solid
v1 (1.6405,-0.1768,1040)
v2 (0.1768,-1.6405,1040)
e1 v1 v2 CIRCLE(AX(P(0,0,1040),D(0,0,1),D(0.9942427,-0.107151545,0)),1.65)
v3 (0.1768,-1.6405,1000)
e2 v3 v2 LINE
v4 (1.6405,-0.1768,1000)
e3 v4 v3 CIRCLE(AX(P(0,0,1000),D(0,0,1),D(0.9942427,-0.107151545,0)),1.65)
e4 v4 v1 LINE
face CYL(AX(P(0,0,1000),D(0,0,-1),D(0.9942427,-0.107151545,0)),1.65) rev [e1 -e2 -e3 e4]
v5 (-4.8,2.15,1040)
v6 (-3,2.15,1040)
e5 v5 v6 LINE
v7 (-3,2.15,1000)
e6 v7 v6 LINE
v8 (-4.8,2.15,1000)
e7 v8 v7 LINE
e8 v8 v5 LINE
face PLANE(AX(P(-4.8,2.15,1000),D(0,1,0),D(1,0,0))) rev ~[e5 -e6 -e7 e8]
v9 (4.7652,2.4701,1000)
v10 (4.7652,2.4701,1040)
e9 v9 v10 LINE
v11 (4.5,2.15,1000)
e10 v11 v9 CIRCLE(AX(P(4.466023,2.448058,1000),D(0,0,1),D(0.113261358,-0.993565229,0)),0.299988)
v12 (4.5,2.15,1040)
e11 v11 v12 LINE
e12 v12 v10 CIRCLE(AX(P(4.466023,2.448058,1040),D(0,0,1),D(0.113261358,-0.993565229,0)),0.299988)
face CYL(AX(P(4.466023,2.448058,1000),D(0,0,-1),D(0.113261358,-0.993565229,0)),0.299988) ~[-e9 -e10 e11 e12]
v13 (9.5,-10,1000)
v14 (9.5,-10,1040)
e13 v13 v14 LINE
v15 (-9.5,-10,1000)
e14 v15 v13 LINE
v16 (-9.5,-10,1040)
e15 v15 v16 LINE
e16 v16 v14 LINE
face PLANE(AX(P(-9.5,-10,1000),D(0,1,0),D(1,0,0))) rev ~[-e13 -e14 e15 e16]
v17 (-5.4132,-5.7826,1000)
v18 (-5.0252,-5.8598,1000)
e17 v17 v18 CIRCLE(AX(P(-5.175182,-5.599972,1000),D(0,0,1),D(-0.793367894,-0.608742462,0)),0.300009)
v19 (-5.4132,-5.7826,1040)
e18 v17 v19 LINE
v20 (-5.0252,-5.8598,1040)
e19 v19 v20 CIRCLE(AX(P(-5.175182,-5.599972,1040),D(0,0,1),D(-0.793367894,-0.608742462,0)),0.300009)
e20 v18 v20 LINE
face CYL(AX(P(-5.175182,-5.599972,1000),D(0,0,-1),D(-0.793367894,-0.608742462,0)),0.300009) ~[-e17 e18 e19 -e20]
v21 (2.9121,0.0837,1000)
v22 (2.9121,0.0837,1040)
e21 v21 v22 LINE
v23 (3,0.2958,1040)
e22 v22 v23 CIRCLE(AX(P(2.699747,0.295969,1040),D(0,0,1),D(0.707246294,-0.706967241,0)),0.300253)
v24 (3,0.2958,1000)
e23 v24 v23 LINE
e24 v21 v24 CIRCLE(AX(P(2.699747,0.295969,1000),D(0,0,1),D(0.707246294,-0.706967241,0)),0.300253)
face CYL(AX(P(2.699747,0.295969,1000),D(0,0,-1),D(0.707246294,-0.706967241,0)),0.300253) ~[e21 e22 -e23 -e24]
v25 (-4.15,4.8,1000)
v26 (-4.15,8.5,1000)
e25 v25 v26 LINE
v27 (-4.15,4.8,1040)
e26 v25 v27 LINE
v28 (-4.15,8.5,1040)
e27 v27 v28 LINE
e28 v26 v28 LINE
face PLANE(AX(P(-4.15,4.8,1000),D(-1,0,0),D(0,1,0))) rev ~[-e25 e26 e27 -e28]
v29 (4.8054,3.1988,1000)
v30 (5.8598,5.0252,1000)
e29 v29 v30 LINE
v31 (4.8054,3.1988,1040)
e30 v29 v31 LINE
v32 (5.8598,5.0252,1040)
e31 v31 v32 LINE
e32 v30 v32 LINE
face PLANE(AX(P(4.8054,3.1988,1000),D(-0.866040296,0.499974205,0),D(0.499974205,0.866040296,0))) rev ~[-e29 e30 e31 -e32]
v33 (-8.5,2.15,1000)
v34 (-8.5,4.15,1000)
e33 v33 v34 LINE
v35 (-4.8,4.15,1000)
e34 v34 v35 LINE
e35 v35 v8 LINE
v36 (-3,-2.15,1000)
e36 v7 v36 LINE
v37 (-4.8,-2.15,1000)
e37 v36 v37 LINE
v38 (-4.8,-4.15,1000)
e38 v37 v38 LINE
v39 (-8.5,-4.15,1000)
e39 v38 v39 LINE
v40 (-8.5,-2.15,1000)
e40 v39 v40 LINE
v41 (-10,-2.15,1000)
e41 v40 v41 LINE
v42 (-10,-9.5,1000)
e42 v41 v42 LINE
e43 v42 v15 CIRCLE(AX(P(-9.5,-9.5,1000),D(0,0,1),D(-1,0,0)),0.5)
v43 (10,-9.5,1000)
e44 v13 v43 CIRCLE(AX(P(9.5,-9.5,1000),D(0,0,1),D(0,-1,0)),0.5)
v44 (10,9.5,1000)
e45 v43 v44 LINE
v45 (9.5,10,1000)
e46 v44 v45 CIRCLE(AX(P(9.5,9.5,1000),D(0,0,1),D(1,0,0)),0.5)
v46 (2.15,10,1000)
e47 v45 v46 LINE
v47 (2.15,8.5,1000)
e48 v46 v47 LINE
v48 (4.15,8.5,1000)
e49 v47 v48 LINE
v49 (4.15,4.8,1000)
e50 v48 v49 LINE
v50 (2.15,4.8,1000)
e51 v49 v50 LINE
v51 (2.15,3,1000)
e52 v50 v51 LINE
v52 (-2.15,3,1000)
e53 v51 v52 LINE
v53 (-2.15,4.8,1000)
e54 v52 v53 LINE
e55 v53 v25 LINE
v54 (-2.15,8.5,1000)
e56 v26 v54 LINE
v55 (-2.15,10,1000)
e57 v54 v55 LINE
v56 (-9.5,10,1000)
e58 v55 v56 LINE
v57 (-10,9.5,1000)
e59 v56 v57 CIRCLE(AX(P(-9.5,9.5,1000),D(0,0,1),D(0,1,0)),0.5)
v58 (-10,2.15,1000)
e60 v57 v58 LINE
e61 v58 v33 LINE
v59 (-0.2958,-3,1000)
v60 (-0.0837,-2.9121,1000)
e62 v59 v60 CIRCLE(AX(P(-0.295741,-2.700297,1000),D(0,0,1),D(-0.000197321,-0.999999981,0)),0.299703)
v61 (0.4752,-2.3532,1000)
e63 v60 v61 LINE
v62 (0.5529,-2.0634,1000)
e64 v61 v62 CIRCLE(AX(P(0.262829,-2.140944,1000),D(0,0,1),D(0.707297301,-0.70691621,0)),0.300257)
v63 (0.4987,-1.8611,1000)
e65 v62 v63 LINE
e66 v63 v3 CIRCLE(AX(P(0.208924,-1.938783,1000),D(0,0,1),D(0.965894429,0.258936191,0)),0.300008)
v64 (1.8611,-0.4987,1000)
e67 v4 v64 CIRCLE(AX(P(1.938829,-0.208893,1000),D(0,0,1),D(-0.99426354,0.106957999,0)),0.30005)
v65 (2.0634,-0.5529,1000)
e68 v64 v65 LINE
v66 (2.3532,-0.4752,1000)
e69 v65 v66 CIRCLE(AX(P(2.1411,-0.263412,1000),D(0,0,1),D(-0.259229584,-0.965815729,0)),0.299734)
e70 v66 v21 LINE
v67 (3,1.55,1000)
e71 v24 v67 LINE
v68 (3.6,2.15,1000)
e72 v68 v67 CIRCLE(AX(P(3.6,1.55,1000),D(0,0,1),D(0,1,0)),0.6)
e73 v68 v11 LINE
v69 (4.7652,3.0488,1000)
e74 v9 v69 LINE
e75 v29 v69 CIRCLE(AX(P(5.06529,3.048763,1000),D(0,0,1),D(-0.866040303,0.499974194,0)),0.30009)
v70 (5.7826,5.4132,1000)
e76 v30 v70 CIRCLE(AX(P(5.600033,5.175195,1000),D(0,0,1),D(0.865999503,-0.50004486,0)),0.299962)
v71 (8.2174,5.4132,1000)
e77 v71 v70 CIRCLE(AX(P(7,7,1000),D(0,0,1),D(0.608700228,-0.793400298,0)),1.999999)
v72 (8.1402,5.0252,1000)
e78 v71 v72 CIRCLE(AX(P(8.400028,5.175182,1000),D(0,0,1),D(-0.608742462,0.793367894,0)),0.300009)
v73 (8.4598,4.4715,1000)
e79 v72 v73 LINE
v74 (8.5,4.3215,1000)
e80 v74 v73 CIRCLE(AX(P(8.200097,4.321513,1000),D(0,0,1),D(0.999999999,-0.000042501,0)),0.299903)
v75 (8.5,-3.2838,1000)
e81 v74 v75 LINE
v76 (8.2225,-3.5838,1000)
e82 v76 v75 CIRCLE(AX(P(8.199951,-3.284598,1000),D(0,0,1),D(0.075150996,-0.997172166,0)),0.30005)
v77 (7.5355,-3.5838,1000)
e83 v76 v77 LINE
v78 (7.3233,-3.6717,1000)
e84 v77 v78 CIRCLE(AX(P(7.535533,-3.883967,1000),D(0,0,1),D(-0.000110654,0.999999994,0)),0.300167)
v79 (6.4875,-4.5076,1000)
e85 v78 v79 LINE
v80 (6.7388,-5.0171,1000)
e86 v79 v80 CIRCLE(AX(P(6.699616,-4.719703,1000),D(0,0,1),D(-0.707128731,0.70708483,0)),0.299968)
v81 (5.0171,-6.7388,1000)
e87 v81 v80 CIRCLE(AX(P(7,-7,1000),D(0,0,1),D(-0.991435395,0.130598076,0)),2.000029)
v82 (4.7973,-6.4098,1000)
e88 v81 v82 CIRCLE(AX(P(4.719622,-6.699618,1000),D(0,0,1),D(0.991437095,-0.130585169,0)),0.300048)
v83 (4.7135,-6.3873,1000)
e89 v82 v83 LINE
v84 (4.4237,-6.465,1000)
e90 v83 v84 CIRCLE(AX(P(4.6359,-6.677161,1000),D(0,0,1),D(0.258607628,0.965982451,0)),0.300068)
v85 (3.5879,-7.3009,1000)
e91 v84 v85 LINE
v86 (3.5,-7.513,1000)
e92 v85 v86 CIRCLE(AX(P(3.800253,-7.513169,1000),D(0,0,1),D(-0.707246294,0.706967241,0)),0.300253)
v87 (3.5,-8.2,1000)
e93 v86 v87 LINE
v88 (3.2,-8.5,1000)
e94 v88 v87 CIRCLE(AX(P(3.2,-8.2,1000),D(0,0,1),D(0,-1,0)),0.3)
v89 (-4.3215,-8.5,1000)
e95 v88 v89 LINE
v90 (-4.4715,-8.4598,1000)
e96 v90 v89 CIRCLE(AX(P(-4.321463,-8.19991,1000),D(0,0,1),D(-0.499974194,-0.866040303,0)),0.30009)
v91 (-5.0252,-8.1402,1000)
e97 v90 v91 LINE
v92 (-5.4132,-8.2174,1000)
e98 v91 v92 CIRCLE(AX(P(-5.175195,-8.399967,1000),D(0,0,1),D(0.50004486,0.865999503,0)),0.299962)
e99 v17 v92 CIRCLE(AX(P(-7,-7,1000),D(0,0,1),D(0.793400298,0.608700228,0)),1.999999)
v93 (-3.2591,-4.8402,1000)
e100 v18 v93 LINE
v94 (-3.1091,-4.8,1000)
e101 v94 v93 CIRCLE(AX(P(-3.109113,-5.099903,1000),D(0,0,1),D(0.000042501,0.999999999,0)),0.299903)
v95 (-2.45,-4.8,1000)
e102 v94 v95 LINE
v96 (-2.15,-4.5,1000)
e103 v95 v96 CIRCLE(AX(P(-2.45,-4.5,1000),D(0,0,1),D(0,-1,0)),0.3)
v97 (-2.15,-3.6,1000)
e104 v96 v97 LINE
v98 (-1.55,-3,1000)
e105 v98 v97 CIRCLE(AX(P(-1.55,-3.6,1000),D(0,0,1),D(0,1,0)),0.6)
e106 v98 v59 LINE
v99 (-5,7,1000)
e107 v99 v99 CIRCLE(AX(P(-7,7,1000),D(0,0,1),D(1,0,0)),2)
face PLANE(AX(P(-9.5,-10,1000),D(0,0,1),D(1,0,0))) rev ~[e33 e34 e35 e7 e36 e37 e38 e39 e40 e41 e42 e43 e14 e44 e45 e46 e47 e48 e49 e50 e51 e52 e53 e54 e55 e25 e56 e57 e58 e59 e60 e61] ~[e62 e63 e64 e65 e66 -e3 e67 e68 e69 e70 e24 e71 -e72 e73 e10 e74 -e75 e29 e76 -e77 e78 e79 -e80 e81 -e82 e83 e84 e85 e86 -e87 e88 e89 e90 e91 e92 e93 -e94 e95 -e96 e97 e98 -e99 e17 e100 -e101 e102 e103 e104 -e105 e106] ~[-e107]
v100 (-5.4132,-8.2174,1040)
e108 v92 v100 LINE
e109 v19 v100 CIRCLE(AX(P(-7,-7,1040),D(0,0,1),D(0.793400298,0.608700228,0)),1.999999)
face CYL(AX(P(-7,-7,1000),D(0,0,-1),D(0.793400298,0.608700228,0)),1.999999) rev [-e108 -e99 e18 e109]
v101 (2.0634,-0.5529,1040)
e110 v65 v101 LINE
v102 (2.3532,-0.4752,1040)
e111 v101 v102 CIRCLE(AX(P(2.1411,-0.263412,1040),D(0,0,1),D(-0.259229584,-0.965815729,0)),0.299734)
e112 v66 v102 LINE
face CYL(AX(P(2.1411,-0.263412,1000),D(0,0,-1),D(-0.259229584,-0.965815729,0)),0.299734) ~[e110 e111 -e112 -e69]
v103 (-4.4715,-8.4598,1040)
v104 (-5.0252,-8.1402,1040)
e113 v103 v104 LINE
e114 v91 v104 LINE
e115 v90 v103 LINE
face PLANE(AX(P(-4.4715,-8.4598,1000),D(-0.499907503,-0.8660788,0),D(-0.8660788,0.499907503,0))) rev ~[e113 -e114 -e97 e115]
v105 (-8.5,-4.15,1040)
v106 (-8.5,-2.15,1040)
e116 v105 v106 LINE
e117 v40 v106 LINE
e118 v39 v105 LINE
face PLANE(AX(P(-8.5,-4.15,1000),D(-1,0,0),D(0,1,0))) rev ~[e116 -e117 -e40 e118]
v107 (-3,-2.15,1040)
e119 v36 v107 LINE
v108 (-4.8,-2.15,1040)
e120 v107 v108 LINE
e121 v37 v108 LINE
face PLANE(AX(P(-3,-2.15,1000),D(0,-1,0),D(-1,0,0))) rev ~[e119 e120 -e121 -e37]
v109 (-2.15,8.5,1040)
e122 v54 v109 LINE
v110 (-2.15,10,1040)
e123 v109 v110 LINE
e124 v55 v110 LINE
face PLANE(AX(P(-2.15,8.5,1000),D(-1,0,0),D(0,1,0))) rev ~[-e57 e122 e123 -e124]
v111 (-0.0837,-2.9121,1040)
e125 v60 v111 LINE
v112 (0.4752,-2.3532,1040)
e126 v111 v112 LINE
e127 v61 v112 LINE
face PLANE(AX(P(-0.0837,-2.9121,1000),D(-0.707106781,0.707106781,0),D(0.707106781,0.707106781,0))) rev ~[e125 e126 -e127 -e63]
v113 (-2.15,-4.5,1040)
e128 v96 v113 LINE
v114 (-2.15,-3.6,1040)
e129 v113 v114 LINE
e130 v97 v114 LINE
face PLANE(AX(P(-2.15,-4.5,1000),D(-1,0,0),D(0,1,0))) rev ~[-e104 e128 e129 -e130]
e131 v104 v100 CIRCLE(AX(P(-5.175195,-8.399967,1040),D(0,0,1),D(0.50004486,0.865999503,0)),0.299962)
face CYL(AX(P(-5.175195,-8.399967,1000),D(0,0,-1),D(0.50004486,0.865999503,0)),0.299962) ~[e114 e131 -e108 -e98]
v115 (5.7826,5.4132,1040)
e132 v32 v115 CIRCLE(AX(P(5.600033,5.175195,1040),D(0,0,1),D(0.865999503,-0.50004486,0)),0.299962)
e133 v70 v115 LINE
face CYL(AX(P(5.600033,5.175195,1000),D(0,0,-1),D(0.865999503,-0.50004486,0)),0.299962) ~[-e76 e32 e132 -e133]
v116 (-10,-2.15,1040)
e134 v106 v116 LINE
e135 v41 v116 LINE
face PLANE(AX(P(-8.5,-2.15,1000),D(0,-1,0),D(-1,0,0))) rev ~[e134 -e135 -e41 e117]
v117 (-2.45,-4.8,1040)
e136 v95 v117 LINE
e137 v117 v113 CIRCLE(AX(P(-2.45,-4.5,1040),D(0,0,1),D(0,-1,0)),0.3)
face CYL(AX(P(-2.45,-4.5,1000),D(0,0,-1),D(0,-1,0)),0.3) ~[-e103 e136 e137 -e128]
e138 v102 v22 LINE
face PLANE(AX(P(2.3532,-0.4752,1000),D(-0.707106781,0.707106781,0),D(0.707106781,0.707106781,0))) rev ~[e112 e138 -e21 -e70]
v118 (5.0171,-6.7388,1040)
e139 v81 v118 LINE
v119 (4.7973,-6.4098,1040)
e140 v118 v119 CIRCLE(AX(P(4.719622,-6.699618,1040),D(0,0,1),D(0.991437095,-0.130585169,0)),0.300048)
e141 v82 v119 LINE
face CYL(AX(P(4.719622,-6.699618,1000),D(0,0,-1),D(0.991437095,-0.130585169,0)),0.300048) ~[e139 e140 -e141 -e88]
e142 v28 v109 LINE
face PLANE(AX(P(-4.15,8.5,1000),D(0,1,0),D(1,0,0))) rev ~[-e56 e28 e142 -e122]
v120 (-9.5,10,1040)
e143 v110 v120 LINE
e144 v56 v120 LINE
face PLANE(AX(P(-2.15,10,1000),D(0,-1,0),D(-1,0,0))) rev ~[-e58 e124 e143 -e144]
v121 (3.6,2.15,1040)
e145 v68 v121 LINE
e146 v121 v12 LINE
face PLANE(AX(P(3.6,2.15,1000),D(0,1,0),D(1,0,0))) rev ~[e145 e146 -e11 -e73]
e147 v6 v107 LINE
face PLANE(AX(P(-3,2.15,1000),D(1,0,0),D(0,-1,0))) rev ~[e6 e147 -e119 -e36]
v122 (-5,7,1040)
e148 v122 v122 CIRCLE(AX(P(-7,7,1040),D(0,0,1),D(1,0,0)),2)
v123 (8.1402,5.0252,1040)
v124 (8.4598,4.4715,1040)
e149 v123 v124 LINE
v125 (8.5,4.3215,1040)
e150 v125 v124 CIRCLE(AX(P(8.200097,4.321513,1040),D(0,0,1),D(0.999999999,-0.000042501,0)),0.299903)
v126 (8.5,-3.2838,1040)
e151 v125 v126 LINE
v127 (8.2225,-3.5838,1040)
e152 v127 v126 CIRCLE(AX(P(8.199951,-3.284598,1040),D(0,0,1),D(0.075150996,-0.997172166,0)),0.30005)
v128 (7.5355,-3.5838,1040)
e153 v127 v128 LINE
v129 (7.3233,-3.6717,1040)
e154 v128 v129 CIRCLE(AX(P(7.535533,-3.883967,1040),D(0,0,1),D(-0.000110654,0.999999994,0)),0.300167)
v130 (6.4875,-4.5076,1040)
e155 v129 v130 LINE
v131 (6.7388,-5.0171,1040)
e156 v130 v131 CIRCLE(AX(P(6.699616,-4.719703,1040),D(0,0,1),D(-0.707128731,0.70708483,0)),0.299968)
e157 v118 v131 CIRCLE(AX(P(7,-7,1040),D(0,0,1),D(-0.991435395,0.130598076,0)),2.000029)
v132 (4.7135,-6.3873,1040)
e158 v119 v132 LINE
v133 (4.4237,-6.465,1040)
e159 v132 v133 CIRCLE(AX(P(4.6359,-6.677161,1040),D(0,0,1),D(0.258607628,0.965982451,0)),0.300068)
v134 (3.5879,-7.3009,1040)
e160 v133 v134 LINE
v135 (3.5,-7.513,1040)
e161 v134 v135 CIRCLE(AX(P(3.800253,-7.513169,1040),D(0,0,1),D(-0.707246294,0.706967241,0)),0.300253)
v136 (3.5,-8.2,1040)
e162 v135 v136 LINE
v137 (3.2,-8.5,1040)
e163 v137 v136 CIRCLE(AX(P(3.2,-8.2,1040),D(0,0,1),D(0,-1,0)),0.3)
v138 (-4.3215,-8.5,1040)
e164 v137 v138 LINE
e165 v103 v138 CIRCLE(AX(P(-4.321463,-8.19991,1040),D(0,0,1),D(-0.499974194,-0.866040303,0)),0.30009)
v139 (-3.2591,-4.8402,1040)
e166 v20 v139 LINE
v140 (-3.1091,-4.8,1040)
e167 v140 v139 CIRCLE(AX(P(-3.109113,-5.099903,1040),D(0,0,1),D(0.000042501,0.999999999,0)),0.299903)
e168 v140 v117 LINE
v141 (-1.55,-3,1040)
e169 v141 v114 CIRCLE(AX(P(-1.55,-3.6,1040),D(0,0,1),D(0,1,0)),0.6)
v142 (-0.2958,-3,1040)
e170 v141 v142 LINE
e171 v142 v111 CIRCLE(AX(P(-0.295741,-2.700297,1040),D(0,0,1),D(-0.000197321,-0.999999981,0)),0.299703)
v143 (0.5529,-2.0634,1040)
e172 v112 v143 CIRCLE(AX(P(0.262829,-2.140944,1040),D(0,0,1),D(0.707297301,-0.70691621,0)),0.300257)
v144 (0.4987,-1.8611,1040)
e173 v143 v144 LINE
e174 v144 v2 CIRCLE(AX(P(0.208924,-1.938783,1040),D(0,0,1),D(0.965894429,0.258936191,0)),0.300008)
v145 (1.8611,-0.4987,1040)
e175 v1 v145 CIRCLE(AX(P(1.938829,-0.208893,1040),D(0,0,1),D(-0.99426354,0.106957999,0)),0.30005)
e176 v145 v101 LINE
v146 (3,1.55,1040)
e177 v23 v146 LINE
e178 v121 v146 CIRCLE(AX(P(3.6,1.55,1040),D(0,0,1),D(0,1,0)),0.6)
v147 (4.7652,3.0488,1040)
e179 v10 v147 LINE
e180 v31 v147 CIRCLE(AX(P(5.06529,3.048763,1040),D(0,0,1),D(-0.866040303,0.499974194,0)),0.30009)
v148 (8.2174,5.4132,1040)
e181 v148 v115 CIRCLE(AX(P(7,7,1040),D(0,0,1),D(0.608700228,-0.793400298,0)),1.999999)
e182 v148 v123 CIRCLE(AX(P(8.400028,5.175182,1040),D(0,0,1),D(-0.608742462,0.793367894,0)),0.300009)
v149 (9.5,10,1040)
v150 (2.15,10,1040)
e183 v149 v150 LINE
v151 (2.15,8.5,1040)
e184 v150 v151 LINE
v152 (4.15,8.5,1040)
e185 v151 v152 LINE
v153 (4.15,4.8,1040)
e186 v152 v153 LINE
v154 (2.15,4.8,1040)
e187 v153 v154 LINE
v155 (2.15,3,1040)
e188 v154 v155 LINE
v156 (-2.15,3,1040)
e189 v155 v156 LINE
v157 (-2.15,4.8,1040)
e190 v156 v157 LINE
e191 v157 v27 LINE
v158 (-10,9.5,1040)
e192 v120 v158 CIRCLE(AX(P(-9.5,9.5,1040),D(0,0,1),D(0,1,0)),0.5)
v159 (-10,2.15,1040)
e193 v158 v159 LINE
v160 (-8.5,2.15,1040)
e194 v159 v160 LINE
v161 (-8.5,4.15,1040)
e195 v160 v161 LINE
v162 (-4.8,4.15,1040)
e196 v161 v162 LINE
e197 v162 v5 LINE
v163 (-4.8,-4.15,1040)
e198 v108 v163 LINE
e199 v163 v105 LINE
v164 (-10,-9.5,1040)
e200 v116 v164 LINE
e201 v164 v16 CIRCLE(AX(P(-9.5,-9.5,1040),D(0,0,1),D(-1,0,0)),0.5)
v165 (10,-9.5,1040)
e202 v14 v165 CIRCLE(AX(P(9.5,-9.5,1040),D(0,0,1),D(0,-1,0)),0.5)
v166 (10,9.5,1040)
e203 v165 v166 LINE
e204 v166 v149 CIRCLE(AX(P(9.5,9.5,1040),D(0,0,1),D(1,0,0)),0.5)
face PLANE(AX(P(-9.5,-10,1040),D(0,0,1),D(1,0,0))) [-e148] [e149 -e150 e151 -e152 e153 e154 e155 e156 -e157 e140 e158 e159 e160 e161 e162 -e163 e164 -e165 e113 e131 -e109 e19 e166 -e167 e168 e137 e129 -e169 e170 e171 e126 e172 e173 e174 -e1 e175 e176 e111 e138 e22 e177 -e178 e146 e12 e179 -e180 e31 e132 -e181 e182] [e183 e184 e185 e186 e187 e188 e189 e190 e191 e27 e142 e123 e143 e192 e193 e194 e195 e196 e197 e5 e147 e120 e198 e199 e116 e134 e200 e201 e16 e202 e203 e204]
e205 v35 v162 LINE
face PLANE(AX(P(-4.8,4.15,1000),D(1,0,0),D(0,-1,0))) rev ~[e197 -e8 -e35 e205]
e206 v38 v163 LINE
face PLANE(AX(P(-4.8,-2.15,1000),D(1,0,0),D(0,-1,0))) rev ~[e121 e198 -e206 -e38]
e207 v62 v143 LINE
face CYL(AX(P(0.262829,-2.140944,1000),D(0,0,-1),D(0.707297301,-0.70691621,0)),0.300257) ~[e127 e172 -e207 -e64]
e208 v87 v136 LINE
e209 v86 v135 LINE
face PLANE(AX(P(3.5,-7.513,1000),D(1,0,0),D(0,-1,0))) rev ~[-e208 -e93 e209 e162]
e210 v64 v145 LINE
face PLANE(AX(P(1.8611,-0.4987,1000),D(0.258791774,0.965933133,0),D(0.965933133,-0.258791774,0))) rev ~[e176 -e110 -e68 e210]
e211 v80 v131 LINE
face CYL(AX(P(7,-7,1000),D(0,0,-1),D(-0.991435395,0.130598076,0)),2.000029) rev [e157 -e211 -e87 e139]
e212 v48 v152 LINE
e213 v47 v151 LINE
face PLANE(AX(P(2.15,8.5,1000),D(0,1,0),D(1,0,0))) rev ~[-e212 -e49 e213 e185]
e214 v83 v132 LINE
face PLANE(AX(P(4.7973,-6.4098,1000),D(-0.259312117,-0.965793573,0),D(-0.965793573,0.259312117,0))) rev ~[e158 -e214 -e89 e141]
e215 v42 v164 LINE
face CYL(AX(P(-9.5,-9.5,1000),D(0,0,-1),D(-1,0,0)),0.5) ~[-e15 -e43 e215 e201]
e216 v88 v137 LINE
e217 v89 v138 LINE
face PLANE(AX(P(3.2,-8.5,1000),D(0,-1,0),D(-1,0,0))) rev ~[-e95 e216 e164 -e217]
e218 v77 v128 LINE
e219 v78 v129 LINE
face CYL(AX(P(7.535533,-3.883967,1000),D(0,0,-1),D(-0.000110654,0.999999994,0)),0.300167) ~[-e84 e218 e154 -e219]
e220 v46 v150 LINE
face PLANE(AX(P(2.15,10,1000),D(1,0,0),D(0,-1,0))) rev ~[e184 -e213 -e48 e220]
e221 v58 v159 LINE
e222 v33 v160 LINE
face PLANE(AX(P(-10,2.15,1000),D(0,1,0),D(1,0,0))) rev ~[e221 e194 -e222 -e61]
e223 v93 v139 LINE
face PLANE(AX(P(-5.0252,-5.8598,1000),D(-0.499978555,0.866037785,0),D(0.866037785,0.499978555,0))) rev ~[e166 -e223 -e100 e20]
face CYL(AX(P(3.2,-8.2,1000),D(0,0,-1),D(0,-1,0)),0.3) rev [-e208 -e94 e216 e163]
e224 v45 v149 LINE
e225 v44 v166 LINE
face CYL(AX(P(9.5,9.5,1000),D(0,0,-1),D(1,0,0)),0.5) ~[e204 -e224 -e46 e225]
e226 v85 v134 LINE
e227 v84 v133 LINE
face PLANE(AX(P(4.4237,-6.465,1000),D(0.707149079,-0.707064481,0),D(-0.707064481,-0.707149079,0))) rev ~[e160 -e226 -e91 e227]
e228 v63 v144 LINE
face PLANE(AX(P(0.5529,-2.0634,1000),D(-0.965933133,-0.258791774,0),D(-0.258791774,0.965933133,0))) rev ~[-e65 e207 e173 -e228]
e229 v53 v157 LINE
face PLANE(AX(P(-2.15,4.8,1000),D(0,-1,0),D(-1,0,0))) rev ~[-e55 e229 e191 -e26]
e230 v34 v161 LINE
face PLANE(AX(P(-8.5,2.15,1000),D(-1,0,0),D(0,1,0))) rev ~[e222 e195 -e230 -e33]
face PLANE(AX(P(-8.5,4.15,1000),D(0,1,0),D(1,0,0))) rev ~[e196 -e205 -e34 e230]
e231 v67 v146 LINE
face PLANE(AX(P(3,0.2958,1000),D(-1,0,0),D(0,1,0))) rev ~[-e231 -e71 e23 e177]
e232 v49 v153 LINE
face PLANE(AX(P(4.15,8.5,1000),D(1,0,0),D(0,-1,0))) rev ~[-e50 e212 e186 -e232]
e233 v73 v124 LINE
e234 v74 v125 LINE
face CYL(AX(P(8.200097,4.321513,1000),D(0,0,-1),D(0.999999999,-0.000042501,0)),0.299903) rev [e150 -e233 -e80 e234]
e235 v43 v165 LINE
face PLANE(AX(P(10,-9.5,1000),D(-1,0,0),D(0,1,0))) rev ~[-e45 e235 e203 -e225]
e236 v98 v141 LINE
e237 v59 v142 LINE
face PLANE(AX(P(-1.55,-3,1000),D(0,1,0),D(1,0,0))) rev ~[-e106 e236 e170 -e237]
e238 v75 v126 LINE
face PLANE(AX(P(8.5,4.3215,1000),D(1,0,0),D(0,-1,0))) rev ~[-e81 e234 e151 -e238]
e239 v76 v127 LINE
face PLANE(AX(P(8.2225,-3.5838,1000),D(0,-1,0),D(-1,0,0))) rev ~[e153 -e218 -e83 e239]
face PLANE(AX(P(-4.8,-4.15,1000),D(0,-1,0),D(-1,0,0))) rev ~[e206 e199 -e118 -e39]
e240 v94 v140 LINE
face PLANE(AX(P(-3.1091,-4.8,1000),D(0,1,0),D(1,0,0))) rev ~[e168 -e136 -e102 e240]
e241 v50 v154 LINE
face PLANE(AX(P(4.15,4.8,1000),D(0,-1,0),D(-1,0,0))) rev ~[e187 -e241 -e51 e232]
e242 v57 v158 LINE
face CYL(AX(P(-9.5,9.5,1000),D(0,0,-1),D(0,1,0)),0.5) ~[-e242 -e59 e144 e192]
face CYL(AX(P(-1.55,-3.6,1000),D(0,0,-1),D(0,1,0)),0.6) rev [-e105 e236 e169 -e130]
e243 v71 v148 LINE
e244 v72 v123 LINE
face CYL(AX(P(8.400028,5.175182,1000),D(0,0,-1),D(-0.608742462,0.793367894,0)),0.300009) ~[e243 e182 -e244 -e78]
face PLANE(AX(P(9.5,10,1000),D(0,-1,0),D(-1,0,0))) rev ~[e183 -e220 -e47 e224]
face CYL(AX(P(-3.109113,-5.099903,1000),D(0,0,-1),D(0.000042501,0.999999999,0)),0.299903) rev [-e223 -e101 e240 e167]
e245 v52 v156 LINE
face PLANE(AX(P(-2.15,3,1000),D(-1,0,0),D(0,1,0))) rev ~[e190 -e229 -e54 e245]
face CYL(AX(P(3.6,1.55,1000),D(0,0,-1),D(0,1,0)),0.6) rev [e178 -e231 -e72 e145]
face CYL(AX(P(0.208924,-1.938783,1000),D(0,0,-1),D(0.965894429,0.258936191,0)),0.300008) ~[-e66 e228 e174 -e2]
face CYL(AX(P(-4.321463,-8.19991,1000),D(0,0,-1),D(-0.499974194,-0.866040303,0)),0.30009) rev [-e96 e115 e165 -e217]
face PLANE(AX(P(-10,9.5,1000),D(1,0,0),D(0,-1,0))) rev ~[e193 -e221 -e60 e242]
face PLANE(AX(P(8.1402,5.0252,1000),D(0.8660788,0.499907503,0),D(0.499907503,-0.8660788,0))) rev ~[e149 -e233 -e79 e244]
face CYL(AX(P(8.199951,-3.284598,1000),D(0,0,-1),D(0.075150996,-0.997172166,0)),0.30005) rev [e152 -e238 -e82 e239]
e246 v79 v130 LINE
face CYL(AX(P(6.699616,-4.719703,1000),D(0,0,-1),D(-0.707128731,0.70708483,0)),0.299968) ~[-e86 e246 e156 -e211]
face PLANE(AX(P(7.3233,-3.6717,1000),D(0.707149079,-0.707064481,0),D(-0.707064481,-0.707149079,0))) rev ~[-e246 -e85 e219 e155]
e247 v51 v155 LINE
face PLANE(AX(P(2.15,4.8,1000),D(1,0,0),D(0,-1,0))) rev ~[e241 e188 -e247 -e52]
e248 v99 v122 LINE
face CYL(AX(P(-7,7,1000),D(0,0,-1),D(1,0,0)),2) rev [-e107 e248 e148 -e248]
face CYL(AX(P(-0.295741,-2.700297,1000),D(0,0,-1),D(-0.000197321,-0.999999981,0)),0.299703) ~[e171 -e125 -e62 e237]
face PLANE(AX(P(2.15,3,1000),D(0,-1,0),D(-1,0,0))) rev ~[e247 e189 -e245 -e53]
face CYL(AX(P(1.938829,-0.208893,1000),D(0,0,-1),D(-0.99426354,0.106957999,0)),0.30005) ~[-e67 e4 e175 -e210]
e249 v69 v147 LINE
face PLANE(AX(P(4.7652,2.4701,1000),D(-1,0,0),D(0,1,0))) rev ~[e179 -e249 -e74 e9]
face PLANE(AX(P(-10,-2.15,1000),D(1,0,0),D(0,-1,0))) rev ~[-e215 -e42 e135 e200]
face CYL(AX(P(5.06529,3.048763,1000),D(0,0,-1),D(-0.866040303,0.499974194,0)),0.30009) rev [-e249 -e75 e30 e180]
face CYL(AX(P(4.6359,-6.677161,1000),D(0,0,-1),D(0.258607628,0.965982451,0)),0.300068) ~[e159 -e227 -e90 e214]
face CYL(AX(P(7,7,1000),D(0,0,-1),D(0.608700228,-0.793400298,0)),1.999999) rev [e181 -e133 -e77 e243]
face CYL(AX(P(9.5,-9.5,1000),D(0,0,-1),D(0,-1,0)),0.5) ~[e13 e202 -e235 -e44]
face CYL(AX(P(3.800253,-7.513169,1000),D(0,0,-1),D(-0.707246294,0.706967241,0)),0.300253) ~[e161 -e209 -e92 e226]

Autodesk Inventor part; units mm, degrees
ref_plane "YZ Plane" through (0, 0, 0) normal (1, 0, 0) x (0, 1, 0)
ref_plane "XZ Plane" through (0, 0, 0) normal (0, 1, 0) x (-1, 0, 0)
ref_plane "作業平面1" through (-9.5, -10, 1000) normal (0, 0, 1) x (1, 0, 0)
sketch "スケッチ1" plane through (-9.5, -10, 1000) normal (0, 0, 1) x (1, 0, 0)
  line L0 (7.35, 18.5) -> (7.35, 20) projected
  line L1 (7.35, 20) -> (0, 20) projected
  arc A0 (0, 20) -> (-0.5, 19.5) centre (0, 19.5) ccw projected
  line L2 (-0.5, 19.5) -> (-0.5, 12.15) projected
  line L3 (-0.5, 12.15) -> (1, 12.15) projected
  line L4 (1, 12.15) -> (1, 14.15) projected
  line L5 (1, 14.15) -> (4.7, 14.15) projected
  line L6 (4.7, 14.15) -> (4.7, 12.15) projected
  line L7 (4.7, 12.15) -> (6.5, 12.15) projected
  line L8 (6.5, 12.15) -> (6.5, 7.85) projected
  line L9 (6.5, 7.85) -> (4.7, 7.85) projected
  line L10 (4.7, 7.85) -> (4.7, 5.85) projected
  line L11 (4.7, 5.85) -> (1, 5.85) projected
  line L12 (1, 5.85) -> (1, 7.85) projected
  line L13 (1, 7.85) -> (-0.5, 7.85) projected
  line L14 (-0.5, 7.85) -> (-0.5, 0.5) projected
  arc A1 (-0.5, 0.5) -> (0, 0) centre (0, 0.5) ccw projected
  line L15 (0, 0) -> (19, 0) projected
  arc A2 (19, 0) -> (19.5, 0.5) centre (19, 0.5) ccw projected
  line L16 (19.5, 0.5) -> (19.5, 19.5) projected
  arc A3 (19.5, 19.5) -> (19, 20) centre (19, 19.5) ccw projected
  line L17 (19, 20) -> (11.65, 20) projected
  line L18 (11.65, 20) -> (11.65, 18.5) projected
  line L19 (11.65, 18.5) -> (13.65, 18.5) projected
  line L20 (13.65, 18.5) -> (13.65, 14.8) projected
  line L21 (13.65, 14.8) -> (11.65, 14.8) projected
  line L22 (11.65, 14.8) -> (11.65, 13) projected
  line L23 (11.65, 13) -> (7.35, 13) projected
  line L24 (7.35, 13) -> (7.35, 14.8) projected
  line L25 (7.35, 14.8) -> (5.35, 14.8) projected
  line L26 (5.35, 14.8) -> (5.35, 18.5) projected
  line L27 (5.35, 18.5) -> (7.35, 18.5) projected
  arc A4 (17.7174, 15.4132) -> (17.6402, 15.0252) centre (17.9, 15.1752) ccw projected
  line L28 (17.6402, 15.0252) -> (17.9598, 14.4715) projected
  arc A5 (18, 14.3215) -> (17.9598, 14.4715) centre (17.7, 14.3215) ccw projected
  line L29 (18, 14.3215) -> (18, 6.7162) projected
  arc A6 (17.7225, 6.4162) -> (18, 6.7162) centre (17.7, 6.7153) ccw projected
  line L30 (17.7225, 6.4162) -> (17.0355, 6.4162) projected
  arc A7 (17.0355, 6.4162) -> (16.8233, 6.3283) centre (17.0355, 6.1162) ccw projected
  line L31 (16.8233, 6.3283) -> (15.9875, 5.4924) projected
  arc A8 (15.9875, 5.4924) -> (16.2388, 4.9829) centre (16.1996, 5.2803) ccw projected
  arc A9 (14.5171, 3.2612) -> (16.2388, 4.9829) centre (16.5, 3) ccw projected
  arc A10 (14.5171, 3.2612) -> (14.2973, 3.5902) centre (14.2197, 3.3004) ccw projected
  line L32 (14.2973, 3.5902) -> (14.2135, 3.6127) projected
  arc A11 (14.2135, 3.6127) -> (13.9237, 3.535) centre (14.1359, 3.3229) ccw projected
  line L33 (13.9237, 3.535) -> (13.0879, 2.6991) projected
  arc A12 (13.0879, 2.6991) -> (13, 2.487) centre (13.3, 2.487) ccw projected
  line L34 (13, 2.487) -> (13, 1.8) projected
  arc A13 (12.7, 1.5) -> (13, 1.8) centre (12.7, 1.8) ccw projected
  line L35 (12.7, 1.5) -> (5.1785, 1.5) projected
  arc A14 (5.0285, 1.5402) -> (5.1785, 1.5) centre (5.1785, 1.8) ccw projected
  line L36 (5.0285, 1.5402) -> (4.4748, 1.8598) projected
  arc A15 (4.4748, 1.8598) -> (4.0868, 1.7826) centre (4.3248, 1.6) ccw projected
  arc A16 (4.0868, 4.2174) -> (4.0868, 1.7826) centre (2.5, 3) ccw projected
  arc A17 (4.0868, 4.2174) -> (4.4748, 4.1402) centre (4.3248, 4.4) ccw projected
  line L37 (4.4748, 4.1402) -> (6.2409, 5.1598) projected
  arc A18 (6.3909, 5.2) -> (6.2409, 5.1598) centre (6.3909, 4.9) ccw projected
  line L38 (6.3909, 5.2) -> (7.05, 5.2) projected
  arc A19 (7.05, 5.2) -> (7.35, 5.5) centre (7.05, 5.5) ccw projected
  line L39 (7.35, 5.5) -> (7.35, 6.4) projected
  arc A20 (7.95, 7) -> (7.35, 6.4) centre (7.95, 6.4) ccw projected
  line L40 (7.95, 7) -> (9.2042, 7) projected
  arc A21 (9.2042, 7) -> (9.4163, 7.0879) centre (9.2042, 7.3) ccw projected
  line L41 (9.4163, 7.0879) -> (9.9752, 7.6468) projected
  arc A22 (9.9752, 7.6468) -> (10.0529, 7.9366) centre (9.7631, 7.8589) ccw projected
  line L42 (10.0529, 7.9366) -> (9.9987, 8.1389) projected
  arc A23 (9.9987, 8.1389) -> (9.6768, 8.3595) centre (9.7089, 8.0612) ccw projected
  arc A24 (11.1405, 9.8232) -> (9.6768, 8.3595) centre (9.5, 10) ccw projected
  arc A25 (11.1405, 9.8232) -> (11.3611, 9.5013) centre (11.4388, 9.7911) ccw projected
  line L43 (11.3611, 9.5013) -> (11.5634, 9.4471) projected
  arc A26 (11.5634, 9.4471) -> (11.8532, 9.5248) centre (11.6411, 9.7369) ccw projected
  line L44 (11.8532, 9.5248) -> (12.4121, 10.0837) projected
  arc A27 (12.4121, 10.0837) -> (12.5, 10.2958) centre (12.2, 10.2958) ccw projected
  line L45 (12.5, 10.2958) -> (12.5, 11.55) projected
  arc A28 (13.1, 12.15) -> (12.5, 11.55) centre (13.1, 11.55) ccw projected
  line L46 (13.1, 12.15) -> (14, 12.15) projected
  arc A29 (14, 12.15) -> (14.2652, 12.4701) centre (13.966, 12.4481) ccw projected
  line L47 (14.2652, 12.4701) -> (14.2652, 13.0488) projected
  arc A30 (14.3054, 13.1988) -> (14.2652, 13.0488) centre (14.5652, 13.0488) ccw projected
  line L48 (14.3054, 13.1988) -> (15.3598, 15.0252) projected
  arc A31 (15.3598, 15.0252) -> (15.2826, 15.4132) centre (15.1, 15.1752) ccw projected
  arc A32 (17.7174, 15.4132) -> (15.2826, 15.4132) centre (16.5, 17) ccw projected
  circle A33 centre (2.5, 17) radius 2 projected
  point P0 (9.5, 10)
extrude "押し出し1" add sketch "スケッチ1" along normal blind 40
properties part number "AFST-2020-4-1000"
